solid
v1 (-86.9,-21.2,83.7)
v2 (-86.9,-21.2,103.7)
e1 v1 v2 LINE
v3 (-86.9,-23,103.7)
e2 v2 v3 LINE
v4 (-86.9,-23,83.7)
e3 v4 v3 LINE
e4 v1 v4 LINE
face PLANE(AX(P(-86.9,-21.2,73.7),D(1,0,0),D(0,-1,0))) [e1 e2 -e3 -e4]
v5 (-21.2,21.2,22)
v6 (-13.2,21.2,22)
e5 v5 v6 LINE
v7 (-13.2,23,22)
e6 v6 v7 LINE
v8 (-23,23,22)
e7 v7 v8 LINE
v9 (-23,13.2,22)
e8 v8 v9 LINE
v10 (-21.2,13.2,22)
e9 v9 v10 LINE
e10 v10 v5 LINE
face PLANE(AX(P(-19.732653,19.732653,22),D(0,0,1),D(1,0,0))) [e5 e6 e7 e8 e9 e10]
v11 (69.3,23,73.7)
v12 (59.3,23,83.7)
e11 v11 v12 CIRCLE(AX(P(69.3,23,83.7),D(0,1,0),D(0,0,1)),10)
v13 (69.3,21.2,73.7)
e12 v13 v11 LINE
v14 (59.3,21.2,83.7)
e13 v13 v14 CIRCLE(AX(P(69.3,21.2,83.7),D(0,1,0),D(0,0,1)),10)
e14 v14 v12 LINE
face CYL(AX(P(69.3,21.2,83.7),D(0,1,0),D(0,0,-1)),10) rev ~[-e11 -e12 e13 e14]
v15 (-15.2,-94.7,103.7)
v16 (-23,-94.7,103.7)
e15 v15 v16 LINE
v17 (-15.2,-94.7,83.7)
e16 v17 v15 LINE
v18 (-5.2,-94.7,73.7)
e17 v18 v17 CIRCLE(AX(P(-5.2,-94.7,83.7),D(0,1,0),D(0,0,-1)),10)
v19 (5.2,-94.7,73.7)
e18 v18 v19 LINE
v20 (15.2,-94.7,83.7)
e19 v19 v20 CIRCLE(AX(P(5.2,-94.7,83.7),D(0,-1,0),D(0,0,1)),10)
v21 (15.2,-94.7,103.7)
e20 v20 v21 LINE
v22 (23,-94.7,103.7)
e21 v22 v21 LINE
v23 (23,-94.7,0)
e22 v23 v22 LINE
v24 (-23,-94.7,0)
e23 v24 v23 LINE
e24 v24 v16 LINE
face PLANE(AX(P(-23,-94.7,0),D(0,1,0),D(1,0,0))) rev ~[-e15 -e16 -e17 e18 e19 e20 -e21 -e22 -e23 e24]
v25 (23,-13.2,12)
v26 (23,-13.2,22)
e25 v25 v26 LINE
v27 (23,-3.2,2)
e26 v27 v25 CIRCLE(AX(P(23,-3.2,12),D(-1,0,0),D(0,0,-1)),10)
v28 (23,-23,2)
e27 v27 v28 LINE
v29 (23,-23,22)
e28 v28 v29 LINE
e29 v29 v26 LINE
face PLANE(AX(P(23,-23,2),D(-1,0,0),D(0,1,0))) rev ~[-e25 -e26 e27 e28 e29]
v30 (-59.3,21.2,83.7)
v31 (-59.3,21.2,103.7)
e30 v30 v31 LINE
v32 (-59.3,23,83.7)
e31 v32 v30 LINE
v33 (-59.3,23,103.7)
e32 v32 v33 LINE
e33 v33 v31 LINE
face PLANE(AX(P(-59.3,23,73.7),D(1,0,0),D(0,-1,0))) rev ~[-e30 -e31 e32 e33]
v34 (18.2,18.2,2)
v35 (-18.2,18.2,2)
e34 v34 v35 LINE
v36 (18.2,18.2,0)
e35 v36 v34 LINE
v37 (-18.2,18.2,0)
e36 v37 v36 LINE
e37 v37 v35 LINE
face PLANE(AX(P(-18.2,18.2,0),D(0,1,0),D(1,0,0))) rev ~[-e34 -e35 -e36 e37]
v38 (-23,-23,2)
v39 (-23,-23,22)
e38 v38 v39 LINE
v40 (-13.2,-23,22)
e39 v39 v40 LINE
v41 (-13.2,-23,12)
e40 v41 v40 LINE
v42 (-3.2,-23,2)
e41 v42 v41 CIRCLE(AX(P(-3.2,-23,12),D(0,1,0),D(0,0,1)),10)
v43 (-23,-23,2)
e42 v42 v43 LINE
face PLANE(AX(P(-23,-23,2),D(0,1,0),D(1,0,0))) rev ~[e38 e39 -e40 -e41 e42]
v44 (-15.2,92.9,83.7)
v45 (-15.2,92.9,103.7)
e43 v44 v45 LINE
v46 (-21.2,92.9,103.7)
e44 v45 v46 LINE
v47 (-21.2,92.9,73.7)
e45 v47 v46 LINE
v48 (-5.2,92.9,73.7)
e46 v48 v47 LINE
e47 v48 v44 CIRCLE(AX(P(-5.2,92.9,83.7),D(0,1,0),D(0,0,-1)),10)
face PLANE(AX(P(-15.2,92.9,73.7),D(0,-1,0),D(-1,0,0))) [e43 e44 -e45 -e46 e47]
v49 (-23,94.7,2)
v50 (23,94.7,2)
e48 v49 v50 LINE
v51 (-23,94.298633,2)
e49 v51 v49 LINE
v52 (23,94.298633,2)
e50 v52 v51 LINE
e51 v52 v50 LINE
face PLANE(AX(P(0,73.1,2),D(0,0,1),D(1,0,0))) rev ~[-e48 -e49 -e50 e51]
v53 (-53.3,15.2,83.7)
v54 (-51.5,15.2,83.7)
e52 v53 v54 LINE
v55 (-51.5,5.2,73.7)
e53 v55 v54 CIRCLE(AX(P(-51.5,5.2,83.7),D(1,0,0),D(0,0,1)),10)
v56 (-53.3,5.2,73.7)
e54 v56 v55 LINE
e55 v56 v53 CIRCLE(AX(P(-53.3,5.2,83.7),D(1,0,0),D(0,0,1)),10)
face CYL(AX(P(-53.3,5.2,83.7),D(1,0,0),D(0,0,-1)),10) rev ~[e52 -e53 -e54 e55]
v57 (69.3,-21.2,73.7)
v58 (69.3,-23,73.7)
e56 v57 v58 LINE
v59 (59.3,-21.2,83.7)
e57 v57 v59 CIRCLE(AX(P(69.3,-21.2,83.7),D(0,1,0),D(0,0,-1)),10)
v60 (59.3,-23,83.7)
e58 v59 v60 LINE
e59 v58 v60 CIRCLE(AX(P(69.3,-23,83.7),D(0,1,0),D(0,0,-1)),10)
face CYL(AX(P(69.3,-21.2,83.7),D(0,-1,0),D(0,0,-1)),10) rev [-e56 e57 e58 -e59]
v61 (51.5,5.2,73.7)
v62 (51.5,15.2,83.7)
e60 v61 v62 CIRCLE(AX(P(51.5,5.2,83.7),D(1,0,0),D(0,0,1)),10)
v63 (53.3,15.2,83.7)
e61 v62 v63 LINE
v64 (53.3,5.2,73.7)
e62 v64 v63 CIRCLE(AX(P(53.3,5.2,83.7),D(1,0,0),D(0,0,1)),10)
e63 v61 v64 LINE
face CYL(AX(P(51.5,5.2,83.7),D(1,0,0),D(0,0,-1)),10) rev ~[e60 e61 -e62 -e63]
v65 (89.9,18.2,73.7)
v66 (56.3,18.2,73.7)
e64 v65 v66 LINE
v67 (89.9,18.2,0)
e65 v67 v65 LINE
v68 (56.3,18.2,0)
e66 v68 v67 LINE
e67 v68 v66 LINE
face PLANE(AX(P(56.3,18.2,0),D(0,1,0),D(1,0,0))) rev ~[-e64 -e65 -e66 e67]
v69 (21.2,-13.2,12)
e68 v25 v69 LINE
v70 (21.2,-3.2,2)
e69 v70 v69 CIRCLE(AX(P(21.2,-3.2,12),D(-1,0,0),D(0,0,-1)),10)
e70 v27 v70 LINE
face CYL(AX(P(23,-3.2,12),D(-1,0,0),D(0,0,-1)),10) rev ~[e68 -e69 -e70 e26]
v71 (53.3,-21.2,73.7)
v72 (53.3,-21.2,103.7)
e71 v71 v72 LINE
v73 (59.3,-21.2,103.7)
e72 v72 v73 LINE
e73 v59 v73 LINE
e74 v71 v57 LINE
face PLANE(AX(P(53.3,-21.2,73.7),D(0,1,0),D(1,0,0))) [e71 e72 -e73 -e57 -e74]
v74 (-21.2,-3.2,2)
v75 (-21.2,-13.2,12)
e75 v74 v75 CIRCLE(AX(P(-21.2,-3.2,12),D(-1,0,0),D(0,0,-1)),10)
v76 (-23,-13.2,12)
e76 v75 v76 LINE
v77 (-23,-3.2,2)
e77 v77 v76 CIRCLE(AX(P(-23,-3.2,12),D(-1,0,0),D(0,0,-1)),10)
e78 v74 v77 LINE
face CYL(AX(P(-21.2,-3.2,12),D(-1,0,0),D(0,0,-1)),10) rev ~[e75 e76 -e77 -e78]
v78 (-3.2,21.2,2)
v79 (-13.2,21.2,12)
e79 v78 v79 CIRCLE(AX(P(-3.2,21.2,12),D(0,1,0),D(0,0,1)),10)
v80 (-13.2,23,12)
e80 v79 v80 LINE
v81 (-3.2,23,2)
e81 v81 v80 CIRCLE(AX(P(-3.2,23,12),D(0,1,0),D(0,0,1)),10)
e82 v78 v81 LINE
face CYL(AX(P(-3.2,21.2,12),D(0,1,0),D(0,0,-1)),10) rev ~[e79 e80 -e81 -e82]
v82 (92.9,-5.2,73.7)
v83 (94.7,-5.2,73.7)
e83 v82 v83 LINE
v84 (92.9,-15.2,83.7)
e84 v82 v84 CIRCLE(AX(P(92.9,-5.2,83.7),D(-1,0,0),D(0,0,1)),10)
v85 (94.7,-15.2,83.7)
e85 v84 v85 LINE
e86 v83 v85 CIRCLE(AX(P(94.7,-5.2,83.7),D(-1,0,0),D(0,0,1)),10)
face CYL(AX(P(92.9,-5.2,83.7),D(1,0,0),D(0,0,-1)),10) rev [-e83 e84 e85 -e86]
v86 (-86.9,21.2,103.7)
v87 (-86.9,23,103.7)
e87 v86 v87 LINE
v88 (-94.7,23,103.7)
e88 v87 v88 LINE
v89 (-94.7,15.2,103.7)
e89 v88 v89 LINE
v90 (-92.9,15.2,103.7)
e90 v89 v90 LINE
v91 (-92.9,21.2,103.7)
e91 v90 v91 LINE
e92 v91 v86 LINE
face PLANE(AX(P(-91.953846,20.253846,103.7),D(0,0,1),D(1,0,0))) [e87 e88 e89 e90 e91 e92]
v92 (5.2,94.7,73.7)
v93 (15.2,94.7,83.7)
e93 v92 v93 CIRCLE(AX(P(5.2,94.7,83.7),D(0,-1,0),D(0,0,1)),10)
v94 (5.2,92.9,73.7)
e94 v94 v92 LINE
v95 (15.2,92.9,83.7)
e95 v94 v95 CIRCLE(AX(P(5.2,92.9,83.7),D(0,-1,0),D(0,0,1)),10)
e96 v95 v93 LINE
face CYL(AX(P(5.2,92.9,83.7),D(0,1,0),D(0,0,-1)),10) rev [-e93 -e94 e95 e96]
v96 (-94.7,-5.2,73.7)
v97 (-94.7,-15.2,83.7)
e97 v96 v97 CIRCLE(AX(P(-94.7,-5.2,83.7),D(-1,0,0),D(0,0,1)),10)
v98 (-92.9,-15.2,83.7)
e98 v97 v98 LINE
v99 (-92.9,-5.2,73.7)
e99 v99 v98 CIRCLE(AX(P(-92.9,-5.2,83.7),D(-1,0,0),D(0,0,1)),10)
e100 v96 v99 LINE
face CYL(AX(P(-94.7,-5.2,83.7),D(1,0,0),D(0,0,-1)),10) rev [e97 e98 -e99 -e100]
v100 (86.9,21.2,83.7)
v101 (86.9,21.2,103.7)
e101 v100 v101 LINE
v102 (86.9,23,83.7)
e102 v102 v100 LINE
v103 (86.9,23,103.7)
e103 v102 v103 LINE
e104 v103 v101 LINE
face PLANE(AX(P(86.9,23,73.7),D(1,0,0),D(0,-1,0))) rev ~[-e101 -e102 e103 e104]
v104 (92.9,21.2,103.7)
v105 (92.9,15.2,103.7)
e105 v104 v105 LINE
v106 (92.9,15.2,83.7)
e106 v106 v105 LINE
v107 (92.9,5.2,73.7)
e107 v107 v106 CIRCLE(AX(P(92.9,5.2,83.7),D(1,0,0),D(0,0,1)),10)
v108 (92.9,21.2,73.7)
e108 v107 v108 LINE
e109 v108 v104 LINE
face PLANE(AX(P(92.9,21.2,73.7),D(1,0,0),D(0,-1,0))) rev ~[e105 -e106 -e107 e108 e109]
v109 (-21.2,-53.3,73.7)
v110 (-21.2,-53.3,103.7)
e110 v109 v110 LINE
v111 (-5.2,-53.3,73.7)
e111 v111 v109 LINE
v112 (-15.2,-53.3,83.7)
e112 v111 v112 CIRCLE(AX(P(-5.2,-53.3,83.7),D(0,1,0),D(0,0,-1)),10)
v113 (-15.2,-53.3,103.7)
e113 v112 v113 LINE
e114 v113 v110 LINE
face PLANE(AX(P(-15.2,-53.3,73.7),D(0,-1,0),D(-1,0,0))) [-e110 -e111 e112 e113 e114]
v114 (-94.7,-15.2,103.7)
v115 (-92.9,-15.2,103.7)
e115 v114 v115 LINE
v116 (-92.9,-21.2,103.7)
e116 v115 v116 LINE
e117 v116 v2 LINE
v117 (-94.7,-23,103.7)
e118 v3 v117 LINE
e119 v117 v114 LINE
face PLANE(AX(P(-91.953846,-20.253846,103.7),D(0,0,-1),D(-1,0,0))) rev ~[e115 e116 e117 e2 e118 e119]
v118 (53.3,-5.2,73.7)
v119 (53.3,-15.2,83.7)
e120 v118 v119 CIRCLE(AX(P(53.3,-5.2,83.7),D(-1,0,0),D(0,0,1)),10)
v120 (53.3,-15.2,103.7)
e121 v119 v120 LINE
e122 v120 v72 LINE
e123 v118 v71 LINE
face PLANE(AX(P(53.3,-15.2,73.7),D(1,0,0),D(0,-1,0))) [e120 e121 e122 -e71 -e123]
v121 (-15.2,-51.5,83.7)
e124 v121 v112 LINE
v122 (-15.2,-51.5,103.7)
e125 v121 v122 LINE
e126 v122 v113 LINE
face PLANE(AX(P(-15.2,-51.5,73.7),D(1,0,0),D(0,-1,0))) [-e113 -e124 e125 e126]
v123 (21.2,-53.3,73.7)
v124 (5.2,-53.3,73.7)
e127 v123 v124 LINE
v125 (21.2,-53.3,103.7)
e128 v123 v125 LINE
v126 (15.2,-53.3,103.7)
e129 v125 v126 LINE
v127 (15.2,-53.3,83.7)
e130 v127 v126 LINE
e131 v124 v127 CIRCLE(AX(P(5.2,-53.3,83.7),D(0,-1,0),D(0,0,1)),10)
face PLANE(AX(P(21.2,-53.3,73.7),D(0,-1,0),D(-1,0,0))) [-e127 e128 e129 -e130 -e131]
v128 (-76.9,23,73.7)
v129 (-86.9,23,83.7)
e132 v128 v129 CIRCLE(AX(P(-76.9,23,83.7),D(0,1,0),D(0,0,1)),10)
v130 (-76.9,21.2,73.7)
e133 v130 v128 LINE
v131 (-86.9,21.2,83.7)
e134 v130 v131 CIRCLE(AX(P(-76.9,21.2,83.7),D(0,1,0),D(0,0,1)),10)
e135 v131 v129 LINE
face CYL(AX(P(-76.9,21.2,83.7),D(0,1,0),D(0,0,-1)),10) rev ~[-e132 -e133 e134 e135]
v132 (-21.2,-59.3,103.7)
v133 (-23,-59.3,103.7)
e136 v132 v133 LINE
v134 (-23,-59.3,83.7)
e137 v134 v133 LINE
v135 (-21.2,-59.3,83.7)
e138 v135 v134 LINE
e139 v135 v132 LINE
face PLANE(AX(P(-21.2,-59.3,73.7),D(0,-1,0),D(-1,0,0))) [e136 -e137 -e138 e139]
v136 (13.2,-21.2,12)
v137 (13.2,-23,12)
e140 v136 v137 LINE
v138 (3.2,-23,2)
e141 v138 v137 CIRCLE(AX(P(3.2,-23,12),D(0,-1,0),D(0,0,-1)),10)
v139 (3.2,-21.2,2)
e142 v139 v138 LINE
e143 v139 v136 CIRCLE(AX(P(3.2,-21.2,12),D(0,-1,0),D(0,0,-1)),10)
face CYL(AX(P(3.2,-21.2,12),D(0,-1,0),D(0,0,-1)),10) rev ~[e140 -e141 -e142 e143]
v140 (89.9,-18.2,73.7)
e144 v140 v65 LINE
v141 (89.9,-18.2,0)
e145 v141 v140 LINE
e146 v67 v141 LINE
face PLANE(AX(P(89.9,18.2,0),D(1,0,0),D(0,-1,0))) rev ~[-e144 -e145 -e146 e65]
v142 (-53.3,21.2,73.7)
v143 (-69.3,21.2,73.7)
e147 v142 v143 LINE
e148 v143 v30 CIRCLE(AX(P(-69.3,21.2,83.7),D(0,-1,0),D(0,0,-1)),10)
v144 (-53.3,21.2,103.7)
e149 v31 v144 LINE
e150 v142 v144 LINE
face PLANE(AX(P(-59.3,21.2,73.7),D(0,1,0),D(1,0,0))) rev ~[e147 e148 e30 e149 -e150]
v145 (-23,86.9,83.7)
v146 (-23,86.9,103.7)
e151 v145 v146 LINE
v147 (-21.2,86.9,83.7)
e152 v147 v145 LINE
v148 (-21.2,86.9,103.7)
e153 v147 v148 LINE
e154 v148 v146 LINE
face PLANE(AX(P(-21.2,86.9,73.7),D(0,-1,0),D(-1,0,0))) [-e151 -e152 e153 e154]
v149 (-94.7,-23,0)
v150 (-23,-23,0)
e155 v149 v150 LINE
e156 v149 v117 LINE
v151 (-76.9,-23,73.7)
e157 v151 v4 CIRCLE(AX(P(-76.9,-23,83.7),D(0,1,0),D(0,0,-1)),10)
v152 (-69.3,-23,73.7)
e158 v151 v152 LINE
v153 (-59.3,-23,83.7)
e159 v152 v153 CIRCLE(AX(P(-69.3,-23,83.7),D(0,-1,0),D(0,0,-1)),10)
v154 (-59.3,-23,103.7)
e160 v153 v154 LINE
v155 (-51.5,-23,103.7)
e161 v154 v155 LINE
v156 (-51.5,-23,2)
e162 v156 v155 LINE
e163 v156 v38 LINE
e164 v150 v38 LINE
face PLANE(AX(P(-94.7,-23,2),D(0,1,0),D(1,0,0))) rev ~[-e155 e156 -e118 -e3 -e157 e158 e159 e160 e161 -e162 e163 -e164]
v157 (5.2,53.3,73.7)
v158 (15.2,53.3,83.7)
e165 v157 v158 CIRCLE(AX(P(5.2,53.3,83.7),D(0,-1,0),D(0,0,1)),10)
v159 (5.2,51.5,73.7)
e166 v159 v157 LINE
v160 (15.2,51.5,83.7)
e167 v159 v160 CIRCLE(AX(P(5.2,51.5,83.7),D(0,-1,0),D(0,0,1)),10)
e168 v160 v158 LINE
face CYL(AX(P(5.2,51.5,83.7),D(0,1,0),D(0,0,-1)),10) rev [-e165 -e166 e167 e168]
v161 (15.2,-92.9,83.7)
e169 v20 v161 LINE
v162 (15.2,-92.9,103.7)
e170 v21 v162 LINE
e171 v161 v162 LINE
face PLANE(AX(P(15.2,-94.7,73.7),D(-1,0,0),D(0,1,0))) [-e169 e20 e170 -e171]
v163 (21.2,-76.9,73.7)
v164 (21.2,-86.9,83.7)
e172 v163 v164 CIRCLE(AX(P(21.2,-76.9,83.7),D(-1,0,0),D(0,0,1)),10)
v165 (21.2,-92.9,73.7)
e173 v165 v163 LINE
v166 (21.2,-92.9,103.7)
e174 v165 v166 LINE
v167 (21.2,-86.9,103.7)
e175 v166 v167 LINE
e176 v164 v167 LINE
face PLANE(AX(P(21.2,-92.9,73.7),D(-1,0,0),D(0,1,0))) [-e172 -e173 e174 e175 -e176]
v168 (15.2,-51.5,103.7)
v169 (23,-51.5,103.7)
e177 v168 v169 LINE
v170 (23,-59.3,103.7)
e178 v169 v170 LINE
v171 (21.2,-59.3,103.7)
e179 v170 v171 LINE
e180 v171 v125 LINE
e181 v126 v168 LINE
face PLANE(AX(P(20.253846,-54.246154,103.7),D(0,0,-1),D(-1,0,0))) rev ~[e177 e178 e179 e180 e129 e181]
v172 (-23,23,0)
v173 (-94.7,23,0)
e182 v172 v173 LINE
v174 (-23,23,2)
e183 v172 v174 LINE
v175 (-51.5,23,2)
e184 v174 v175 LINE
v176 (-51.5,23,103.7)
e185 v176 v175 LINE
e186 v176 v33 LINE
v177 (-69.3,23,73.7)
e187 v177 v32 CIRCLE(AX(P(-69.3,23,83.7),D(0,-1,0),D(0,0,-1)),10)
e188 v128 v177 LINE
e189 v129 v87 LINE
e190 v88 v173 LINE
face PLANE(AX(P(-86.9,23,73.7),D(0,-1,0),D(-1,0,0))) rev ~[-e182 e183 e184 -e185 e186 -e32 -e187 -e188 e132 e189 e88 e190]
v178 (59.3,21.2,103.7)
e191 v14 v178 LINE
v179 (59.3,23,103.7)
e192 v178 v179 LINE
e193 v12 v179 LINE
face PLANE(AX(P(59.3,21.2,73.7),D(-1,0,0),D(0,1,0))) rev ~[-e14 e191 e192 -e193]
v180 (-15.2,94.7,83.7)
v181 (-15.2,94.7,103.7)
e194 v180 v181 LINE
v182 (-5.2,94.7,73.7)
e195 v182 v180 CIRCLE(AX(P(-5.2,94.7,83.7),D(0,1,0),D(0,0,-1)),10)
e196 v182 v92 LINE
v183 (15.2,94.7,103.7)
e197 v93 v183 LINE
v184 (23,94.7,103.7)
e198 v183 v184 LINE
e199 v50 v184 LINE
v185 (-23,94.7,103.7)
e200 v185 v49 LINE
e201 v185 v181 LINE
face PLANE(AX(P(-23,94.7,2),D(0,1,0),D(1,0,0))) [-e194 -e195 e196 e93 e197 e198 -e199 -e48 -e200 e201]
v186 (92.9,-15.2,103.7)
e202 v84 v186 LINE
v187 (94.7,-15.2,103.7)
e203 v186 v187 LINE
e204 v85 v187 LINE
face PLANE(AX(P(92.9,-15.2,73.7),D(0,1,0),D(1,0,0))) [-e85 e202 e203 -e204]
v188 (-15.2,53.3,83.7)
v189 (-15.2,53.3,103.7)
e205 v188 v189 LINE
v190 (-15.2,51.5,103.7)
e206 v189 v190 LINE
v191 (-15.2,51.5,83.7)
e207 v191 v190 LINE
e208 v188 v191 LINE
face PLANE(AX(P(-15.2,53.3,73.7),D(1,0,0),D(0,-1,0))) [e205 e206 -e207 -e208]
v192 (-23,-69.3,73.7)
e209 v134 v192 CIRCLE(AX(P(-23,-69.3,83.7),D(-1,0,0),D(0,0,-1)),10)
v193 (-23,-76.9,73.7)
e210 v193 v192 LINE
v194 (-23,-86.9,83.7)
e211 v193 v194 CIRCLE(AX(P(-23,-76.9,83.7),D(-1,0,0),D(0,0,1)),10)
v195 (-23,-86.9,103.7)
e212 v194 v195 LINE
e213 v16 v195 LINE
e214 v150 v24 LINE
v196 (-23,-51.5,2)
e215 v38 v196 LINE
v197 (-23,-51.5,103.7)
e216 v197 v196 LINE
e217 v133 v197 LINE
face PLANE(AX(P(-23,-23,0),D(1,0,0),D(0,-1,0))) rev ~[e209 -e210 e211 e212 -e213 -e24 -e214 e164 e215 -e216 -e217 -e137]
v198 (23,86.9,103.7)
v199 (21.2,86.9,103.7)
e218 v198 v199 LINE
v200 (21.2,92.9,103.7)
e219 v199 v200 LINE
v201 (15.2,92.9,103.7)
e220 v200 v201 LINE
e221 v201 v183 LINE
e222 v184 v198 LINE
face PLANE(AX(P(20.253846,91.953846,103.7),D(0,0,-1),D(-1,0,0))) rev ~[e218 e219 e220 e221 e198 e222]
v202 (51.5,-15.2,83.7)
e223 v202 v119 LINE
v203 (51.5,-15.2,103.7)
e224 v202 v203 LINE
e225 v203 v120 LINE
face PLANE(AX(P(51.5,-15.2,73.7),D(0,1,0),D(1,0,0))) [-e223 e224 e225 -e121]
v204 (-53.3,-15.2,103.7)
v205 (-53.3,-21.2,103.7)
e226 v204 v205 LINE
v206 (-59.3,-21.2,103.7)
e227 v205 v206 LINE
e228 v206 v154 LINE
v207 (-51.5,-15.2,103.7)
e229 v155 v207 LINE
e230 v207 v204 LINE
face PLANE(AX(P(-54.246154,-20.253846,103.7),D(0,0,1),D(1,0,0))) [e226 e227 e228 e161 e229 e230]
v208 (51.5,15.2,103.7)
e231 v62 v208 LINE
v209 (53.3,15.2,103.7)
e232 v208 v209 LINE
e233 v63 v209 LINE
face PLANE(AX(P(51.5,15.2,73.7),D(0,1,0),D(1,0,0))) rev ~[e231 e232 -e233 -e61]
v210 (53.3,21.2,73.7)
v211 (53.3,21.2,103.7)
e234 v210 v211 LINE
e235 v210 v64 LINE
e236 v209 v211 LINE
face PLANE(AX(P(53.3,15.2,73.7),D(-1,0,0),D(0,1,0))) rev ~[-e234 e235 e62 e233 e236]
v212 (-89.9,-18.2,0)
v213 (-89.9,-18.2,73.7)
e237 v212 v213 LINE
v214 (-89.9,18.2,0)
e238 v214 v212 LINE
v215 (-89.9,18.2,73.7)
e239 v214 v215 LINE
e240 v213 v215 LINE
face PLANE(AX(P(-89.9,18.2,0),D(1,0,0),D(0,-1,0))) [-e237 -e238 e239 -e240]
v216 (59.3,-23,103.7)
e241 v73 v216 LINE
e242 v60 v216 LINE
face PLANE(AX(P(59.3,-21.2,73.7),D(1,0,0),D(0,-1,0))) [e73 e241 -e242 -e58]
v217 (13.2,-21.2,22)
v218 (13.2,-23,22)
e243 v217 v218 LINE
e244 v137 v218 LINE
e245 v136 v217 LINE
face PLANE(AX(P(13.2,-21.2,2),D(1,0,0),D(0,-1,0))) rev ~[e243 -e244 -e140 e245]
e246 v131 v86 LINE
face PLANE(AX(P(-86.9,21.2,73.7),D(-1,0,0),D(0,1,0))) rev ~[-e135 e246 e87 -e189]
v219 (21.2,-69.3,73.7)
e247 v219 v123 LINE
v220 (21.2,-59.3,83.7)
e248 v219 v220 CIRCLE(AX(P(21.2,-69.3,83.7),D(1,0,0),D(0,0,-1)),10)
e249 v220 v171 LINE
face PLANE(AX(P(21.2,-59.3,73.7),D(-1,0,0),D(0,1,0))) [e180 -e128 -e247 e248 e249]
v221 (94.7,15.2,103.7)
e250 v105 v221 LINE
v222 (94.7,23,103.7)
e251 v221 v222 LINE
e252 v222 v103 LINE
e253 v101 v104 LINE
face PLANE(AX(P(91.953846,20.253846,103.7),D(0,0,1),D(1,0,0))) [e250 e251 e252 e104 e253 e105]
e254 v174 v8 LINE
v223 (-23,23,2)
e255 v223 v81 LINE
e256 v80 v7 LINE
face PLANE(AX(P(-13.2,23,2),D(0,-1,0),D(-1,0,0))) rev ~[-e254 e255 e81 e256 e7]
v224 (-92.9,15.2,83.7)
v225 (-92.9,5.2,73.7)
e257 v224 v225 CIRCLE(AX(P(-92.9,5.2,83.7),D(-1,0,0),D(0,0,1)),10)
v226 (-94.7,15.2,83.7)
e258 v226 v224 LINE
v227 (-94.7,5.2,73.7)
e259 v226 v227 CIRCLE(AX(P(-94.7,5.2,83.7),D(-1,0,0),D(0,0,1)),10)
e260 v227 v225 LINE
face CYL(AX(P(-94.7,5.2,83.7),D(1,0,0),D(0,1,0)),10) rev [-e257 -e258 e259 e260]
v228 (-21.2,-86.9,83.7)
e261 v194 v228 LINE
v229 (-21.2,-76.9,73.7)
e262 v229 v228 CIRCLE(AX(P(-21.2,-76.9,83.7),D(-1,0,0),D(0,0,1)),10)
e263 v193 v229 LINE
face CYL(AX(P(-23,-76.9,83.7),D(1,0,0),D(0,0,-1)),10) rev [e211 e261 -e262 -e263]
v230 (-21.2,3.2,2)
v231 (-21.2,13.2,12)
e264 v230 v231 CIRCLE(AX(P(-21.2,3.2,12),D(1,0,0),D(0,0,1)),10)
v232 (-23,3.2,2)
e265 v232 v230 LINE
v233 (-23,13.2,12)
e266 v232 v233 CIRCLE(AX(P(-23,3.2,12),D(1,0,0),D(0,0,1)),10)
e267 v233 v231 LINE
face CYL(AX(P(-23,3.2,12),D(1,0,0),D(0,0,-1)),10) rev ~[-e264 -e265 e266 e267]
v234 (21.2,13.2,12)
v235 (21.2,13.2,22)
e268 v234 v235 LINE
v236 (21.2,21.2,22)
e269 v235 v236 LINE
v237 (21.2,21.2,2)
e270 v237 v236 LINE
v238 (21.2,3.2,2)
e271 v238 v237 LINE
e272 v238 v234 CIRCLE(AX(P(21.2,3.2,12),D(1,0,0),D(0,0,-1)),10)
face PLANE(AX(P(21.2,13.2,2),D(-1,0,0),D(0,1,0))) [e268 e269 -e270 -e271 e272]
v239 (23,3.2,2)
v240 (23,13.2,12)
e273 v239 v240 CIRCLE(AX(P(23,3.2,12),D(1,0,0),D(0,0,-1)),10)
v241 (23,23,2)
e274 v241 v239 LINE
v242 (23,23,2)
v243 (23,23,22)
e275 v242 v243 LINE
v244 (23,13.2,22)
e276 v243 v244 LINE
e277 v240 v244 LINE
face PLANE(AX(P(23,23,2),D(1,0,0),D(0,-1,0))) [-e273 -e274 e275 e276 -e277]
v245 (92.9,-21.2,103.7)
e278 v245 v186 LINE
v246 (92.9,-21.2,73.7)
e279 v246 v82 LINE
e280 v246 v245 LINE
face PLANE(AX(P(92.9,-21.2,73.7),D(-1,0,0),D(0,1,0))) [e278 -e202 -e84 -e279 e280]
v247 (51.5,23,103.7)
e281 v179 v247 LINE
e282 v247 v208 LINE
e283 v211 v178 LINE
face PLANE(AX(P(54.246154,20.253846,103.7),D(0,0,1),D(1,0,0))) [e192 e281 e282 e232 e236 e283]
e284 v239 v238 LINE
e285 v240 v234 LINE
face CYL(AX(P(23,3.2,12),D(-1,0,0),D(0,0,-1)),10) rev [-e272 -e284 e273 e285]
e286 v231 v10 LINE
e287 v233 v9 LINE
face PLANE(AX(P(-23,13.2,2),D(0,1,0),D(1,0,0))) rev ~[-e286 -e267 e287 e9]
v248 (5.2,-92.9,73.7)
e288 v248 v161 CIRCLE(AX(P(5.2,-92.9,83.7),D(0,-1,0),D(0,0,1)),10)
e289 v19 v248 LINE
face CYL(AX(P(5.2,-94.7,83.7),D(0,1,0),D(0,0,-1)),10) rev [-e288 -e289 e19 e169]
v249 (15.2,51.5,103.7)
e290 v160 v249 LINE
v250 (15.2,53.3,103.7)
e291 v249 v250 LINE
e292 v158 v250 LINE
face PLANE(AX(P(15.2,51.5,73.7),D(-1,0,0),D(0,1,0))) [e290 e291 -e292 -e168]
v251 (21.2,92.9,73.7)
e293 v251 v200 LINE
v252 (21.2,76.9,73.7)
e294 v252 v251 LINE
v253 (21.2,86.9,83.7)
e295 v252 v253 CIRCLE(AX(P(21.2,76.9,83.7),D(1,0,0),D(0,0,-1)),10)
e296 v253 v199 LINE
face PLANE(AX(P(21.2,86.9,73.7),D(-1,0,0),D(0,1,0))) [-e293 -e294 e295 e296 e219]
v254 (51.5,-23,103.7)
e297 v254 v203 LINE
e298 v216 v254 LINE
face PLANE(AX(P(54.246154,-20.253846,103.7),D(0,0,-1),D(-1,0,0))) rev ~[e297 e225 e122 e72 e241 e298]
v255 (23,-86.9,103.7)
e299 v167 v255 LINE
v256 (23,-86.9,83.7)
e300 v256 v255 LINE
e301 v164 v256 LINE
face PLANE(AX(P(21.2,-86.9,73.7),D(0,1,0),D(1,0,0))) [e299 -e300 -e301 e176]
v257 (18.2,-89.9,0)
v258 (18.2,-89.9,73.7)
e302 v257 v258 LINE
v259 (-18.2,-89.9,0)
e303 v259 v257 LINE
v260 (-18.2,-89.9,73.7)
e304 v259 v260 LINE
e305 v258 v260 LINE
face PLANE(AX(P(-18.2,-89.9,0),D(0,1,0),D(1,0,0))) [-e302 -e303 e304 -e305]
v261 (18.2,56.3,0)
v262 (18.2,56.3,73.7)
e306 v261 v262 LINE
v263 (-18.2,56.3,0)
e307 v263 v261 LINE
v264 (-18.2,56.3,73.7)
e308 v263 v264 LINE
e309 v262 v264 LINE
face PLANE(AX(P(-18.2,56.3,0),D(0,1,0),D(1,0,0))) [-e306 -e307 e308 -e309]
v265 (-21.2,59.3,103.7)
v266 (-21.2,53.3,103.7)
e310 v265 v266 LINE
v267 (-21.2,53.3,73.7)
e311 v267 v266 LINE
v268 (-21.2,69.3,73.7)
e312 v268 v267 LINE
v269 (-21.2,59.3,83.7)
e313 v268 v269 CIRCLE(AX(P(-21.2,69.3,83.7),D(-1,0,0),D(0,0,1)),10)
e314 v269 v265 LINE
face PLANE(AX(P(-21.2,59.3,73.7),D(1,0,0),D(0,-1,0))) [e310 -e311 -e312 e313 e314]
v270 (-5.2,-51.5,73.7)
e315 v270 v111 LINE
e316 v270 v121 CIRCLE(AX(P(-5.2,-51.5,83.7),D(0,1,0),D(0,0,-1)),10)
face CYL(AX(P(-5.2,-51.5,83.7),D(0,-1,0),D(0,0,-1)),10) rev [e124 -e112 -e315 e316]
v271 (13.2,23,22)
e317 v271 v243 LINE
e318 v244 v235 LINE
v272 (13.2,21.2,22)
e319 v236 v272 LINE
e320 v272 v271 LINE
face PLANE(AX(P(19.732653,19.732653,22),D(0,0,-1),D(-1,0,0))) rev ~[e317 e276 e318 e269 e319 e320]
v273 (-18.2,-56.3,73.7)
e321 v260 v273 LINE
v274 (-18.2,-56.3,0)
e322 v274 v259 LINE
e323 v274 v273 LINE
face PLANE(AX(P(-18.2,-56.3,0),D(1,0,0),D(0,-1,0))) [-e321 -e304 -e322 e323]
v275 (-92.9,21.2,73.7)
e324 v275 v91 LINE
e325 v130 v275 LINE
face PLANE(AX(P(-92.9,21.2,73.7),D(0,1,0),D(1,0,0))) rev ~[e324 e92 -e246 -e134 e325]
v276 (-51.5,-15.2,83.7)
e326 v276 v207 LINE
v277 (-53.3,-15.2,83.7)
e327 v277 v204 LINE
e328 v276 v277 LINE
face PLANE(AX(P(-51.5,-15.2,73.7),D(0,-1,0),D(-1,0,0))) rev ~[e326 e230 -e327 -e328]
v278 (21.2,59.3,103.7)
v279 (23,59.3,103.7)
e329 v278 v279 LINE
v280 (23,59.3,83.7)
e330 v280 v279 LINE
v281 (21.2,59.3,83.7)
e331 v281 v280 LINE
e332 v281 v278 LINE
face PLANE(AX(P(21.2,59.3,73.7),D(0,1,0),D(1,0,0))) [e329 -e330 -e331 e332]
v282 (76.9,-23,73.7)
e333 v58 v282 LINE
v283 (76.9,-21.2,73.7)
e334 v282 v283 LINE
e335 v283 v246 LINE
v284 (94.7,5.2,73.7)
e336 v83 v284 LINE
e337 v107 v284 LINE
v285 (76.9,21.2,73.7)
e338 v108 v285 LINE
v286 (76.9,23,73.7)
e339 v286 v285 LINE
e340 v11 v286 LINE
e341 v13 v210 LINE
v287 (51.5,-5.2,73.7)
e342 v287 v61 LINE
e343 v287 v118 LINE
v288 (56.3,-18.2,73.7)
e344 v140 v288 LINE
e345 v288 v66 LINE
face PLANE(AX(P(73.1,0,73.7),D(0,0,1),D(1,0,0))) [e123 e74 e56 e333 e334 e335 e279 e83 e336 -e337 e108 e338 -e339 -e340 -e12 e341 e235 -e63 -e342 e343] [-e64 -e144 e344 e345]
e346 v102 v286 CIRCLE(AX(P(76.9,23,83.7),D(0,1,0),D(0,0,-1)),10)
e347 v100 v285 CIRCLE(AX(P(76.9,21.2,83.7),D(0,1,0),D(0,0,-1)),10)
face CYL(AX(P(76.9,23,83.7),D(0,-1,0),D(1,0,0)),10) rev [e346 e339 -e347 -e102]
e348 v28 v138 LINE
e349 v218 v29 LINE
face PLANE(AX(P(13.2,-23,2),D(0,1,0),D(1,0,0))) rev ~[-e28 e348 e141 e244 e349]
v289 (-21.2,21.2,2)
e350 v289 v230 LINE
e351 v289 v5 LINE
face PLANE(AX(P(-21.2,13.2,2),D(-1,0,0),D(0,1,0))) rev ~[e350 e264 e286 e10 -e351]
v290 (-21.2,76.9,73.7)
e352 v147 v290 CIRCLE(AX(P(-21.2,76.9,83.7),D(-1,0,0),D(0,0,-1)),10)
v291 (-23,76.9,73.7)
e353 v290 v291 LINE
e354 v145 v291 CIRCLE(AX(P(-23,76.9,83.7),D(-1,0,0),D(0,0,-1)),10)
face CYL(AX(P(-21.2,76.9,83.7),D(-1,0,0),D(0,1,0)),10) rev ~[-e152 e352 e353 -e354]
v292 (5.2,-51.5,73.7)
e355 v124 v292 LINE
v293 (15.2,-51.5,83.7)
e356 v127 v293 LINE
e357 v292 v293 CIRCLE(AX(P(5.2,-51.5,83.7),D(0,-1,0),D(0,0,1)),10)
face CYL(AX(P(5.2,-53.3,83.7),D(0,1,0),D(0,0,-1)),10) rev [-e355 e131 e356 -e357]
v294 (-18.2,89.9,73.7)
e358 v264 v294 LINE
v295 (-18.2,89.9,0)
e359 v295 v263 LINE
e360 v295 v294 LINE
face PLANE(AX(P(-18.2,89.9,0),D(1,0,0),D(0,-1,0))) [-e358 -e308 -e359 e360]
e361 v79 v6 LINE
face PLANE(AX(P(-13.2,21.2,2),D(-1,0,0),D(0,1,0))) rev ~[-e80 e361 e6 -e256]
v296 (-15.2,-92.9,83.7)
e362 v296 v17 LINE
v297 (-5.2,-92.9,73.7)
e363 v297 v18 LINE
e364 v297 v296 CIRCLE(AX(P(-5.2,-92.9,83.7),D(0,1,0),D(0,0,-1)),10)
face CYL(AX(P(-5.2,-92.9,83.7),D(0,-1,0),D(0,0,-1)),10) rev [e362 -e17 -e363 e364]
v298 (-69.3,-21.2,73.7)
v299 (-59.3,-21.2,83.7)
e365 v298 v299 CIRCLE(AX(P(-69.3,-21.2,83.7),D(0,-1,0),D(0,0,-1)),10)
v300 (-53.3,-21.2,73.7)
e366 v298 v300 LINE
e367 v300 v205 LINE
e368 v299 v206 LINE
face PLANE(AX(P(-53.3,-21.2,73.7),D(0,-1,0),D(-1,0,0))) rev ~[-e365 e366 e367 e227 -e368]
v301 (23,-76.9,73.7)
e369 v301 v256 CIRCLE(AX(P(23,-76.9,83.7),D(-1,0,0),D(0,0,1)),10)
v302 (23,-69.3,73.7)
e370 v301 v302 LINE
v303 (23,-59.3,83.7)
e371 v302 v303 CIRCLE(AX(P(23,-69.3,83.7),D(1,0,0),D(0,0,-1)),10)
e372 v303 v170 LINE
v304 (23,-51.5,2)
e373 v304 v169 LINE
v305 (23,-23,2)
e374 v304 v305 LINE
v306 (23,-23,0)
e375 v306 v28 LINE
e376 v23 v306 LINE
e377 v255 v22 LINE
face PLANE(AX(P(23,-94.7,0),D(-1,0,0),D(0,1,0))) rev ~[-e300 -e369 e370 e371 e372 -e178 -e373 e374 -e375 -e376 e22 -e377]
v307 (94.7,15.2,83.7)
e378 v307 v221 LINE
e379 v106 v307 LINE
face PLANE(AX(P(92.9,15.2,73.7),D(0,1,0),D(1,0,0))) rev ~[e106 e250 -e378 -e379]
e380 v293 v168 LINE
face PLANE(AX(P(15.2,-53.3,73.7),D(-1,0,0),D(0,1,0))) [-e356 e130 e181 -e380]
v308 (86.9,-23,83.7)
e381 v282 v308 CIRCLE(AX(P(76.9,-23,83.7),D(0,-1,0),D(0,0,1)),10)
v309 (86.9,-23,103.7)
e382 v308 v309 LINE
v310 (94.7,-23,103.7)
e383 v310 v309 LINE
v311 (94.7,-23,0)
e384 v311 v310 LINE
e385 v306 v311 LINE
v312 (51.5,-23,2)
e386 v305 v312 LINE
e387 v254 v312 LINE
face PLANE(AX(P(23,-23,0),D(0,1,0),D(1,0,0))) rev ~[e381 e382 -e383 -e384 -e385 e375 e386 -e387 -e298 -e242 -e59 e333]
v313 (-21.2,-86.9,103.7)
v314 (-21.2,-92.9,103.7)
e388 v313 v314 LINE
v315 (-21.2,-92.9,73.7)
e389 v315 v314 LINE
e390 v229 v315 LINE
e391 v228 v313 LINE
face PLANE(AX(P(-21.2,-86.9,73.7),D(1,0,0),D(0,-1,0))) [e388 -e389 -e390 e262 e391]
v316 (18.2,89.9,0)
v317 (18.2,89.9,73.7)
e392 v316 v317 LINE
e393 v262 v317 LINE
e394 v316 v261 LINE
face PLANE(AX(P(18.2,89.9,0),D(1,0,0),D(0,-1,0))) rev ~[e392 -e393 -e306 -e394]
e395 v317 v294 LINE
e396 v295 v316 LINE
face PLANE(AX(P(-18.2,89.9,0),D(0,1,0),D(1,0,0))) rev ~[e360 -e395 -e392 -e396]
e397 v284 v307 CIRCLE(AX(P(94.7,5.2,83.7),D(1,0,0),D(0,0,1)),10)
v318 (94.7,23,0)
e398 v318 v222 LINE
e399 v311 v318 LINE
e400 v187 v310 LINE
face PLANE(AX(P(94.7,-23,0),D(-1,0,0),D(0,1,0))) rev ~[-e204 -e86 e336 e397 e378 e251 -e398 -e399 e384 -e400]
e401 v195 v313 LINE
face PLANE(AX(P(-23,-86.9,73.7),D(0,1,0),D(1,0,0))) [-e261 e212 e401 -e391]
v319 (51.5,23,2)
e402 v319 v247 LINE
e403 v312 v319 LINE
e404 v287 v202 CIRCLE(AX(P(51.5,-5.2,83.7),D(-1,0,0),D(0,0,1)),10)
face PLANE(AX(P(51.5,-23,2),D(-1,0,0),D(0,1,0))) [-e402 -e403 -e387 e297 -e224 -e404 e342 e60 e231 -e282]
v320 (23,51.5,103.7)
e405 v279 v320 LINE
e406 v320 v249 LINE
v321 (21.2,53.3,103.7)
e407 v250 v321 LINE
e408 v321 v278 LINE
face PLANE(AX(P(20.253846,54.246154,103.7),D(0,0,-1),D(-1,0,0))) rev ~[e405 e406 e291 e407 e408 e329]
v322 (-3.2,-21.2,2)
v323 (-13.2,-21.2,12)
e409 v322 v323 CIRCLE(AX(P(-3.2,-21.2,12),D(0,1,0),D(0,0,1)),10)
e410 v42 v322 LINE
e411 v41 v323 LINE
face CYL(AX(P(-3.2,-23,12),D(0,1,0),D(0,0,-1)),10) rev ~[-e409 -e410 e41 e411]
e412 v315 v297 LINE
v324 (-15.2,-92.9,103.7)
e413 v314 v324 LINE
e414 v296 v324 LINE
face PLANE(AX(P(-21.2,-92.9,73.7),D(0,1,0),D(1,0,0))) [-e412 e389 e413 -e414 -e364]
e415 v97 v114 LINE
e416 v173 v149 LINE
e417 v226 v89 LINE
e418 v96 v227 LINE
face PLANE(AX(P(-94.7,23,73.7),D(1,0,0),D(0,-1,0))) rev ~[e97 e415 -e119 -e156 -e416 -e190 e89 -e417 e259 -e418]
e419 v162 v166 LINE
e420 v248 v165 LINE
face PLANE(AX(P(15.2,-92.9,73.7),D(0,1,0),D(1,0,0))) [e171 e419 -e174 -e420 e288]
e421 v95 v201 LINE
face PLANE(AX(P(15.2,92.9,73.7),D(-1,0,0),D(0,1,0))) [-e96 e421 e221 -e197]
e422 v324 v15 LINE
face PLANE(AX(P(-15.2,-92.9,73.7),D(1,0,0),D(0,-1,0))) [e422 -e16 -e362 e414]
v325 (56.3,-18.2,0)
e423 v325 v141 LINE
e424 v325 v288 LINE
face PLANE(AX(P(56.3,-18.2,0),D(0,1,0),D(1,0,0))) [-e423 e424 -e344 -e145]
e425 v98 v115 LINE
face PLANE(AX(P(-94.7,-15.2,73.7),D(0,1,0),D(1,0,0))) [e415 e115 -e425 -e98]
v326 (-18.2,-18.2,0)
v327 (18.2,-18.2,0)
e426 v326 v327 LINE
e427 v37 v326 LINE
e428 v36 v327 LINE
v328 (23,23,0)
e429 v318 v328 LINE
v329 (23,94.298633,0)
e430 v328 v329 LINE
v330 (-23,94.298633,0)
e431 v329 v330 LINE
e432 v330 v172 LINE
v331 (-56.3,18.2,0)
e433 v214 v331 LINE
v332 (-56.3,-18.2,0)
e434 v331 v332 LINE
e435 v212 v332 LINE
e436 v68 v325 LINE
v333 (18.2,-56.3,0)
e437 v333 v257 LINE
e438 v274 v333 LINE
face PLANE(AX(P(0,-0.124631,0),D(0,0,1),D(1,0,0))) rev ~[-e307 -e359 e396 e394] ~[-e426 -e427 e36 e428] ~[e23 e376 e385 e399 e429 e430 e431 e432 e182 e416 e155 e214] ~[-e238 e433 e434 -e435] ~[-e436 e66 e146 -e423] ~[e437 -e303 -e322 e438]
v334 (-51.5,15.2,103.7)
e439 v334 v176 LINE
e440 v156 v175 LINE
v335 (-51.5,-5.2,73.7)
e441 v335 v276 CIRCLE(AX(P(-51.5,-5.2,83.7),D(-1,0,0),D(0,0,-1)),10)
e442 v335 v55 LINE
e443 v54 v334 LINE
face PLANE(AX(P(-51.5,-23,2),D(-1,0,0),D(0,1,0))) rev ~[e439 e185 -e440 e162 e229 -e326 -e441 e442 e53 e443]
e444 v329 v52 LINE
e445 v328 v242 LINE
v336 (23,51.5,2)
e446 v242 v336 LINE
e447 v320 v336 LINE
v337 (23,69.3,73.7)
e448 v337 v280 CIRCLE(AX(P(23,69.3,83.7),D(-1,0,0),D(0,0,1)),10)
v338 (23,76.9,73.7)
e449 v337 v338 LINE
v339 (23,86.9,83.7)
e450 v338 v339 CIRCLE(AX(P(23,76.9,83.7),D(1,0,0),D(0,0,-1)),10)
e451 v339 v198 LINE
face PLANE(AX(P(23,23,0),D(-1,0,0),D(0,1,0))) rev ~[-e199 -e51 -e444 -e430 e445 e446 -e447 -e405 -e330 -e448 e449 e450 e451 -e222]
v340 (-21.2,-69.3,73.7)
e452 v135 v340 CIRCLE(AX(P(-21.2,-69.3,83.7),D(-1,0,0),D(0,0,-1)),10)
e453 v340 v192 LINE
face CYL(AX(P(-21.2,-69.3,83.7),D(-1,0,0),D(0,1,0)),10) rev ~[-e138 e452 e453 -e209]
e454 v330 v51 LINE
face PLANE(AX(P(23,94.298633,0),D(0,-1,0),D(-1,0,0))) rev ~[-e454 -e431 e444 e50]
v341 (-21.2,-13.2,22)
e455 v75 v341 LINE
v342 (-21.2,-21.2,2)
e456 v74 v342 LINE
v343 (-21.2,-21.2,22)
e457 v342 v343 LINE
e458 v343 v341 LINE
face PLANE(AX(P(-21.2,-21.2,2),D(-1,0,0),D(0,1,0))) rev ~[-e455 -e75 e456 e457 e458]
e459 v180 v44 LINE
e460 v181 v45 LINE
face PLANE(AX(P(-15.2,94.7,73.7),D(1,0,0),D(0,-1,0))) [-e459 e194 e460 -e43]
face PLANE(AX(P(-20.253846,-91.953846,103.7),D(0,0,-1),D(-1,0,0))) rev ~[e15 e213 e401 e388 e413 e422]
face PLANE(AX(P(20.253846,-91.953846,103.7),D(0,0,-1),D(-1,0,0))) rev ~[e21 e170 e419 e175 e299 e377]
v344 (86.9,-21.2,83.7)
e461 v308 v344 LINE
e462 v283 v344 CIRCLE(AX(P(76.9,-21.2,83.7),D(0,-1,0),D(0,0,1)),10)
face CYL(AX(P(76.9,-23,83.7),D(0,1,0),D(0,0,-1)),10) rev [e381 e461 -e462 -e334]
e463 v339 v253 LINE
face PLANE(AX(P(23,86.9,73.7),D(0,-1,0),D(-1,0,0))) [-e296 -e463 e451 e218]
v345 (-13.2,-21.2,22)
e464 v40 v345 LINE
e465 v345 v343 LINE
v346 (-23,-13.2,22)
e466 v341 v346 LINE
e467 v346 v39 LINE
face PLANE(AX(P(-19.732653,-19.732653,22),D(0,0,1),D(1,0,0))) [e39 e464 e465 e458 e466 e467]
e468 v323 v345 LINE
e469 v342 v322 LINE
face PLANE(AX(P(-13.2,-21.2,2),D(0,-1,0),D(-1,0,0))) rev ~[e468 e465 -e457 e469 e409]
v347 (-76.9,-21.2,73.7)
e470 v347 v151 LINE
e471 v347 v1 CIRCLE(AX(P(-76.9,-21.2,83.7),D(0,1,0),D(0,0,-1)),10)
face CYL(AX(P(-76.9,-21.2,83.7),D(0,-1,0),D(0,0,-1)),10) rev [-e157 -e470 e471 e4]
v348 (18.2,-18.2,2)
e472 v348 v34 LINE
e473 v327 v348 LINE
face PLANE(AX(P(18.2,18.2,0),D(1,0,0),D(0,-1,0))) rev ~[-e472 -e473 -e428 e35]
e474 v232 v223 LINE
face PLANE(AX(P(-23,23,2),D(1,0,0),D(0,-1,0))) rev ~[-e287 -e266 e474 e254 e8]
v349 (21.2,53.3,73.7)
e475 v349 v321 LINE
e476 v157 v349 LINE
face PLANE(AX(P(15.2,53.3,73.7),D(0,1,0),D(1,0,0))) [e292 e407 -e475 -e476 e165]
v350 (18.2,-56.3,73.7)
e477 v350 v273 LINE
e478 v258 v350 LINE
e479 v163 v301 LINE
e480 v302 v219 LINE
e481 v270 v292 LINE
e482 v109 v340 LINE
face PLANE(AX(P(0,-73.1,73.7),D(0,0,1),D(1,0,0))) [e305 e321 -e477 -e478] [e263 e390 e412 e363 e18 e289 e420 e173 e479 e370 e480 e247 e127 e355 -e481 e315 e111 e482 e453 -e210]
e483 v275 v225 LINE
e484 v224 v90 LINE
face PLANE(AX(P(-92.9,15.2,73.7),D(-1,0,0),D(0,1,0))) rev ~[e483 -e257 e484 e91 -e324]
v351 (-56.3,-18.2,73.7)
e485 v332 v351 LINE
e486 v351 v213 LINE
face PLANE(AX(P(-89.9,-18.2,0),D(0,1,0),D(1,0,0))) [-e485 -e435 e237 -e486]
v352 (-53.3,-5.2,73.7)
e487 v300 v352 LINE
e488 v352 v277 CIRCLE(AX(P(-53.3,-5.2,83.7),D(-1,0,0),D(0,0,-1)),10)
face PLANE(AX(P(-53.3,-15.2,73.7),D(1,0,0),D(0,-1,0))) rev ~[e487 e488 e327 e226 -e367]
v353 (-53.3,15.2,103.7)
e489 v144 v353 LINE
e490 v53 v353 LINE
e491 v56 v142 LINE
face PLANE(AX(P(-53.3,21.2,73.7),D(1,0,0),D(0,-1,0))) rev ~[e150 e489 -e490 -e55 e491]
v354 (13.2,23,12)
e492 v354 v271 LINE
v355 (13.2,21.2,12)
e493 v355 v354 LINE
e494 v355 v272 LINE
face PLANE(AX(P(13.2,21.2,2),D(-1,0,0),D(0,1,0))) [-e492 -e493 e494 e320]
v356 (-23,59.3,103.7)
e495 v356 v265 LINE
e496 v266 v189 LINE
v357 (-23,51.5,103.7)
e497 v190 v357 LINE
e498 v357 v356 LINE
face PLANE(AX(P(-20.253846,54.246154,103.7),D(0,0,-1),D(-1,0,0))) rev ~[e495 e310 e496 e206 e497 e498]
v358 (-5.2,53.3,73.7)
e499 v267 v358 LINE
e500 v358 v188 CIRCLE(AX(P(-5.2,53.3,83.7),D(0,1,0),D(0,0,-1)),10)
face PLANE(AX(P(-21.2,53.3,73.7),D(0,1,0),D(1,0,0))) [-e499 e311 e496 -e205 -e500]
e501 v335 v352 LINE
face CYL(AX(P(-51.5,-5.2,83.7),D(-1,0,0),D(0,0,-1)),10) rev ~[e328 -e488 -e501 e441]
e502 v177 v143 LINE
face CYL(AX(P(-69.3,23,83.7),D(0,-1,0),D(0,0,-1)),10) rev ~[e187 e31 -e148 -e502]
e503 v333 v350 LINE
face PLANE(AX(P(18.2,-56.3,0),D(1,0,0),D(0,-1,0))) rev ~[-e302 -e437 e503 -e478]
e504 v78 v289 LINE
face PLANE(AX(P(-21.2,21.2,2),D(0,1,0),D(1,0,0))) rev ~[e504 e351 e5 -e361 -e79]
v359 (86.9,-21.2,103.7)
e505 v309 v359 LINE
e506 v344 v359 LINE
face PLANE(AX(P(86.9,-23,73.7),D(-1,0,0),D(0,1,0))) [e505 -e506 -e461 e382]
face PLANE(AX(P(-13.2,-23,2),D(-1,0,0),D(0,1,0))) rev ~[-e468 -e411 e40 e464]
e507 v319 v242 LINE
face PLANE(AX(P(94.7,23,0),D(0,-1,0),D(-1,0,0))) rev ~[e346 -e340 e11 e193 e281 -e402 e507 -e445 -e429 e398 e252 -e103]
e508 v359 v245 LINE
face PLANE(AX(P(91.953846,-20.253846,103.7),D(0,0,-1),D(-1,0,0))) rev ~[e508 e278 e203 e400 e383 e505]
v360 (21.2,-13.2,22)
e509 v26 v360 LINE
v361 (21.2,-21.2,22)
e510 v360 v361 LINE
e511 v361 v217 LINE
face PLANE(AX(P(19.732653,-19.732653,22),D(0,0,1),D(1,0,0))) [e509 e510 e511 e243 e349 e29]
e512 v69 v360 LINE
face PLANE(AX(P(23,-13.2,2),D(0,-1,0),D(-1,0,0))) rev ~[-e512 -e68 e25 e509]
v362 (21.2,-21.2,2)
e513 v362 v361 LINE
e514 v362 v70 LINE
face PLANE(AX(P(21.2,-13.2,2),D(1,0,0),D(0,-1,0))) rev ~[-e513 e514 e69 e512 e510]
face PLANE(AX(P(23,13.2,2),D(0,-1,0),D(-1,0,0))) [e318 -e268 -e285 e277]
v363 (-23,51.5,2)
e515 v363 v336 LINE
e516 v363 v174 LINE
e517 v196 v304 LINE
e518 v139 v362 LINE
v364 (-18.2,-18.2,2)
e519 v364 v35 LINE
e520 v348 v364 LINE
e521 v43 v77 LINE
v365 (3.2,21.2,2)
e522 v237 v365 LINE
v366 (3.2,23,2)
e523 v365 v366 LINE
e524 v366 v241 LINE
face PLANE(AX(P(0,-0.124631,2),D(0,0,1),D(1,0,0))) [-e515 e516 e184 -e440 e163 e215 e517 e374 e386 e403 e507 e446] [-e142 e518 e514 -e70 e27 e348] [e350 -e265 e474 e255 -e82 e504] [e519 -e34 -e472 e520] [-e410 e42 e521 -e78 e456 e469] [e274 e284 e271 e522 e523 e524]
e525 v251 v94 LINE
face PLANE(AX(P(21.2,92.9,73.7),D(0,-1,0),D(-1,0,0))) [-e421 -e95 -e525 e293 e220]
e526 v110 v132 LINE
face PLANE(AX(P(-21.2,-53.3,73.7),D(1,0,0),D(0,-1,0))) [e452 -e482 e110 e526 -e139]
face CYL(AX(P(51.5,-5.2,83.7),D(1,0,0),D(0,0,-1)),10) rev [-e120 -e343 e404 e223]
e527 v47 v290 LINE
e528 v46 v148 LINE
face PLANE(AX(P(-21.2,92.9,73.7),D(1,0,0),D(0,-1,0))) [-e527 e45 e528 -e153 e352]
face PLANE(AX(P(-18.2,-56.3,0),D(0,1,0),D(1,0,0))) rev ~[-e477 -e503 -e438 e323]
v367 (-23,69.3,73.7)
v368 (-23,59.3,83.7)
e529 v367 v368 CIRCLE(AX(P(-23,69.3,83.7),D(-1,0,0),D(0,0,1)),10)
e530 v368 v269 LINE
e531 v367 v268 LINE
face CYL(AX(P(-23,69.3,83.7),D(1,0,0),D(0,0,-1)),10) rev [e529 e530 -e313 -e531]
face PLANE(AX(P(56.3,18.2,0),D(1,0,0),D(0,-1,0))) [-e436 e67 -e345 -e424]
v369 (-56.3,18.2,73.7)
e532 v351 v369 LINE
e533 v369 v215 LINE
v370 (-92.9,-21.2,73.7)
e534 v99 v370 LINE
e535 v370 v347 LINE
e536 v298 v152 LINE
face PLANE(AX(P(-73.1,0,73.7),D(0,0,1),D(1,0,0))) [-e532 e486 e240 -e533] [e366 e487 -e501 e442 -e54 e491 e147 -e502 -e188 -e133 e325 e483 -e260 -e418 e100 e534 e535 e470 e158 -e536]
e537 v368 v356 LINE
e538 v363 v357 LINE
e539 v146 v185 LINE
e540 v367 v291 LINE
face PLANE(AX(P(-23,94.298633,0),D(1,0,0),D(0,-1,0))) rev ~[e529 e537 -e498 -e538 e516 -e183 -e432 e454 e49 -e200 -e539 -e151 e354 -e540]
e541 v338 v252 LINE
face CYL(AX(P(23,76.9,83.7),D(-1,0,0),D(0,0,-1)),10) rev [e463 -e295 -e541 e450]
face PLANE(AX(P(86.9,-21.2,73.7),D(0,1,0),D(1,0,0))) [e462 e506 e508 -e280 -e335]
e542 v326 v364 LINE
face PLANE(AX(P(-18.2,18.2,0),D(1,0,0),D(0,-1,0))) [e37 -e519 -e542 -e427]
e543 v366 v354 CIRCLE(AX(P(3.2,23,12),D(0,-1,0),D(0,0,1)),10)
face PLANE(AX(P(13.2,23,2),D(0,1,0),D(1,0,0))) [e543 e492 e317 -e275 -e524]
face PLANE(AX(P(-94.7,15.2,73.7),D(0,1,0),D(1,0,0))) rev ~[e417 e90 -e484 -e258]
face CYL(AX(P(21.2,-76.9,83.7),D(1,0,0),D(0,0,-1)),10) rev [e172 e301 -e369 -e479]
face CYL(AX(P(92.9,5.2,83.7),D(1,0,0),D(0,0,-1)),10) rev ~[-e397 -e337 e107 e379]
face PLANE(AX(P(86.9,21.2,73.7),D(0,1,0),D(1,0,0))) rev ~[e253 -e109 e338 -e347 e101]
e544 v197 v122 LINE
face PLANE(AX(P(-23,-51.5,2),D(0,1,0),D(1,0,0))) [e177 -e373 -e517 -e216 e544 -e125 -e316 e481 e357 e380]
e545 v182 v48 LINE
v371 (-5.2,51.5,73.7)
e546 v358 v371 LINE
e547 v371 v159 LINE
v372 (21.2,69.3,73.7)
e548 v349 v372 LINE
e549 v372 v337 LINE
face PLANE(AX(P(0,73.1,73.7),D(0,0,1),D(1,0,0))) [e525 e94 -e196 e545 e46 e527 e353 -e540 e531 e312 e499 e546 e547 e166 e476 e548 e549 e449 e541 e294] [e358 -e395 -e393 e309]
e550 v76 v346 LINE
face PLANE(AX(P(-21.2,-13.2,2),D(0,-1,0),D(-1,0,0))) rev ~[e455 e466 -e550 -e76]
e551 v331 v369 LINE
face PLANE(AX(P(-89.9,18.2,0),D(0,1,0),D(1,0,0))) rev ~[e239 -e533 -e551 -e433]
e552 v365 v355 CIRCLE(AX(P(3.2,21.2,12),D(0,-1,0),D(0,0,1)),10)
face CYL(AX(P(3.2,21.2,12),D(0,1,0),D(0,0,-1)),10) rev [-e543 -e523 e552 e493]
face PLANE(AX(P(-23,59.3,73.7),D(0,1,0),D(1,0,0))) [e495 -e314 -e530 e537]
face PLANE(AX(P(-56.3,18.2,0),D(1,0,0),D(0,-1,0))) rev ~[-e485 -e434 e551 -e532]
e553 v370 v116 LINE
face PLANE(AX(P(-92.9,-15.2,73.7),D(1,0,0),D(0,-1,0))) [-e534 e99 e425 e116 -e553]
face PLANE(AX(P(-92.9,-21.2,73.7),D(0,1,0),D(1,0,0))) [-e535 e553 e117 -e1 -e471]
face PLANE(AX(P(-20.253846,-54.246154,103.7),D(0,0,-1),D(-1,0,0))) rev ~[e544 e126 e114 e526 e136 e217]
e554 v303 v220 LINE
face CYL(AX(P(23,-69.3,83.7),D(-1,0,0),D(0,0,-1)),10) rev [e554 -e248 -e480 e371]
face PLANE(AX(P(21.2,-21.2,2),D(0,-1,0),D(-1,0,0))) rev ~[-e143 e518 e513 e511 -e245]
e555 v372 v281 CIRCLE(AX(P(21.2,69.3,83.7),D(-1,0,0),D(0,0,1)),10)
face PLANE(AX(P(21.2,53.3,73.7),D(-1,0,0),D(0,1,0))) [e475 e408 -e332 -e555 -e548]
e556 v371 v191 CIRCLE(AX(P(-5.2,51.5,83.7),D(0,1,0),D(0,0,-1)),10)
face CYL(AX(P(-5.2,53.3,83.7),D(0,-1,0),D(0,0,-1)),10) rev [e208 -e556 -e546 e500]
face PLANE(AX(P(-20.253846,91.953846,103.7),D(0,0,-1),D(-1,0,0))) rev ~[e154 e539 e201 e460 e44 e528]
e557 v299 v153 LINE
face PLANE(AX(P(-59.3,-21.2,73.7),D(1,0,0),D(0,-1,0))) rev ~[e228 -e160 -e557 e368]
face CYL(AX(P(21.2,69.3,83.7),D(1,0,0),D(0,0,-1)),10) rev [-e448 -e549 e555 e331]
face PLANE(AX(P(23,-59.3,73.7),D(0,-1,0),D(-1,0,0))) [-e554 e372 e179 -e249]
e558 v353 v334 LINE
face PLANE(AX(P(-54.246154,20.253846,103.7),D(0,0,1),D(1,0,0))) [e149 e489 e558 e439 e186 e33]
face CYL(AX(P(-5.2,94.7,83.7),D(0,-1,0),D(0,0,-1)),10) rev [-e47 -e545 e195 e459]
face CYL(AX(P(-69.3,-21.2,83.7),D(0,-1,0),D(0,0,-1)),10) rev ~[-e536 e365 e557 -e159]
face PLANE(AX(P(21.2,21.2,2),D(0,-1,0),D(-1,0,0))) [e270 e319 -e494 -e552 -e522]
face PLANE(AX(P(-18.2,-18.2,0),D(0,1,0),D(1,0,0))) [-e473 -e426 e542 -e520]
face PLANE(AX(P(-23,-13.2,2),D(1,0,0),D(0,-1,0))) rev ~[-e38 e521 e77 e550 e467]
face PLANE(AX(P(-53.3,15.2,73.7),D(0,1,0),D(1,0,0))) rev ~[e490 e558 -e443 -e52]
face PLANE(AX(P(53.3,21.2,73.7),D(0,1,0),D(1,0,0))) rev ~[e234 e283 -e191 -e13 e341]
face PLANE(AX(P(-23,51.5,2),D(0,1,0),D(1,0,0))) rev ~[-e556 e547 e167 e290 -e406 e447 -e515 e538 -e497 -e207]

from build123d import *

# Parameters (mm, degrees)
PAD_DEPTH     = 2
SKETCH001_W   = 43.2
SKETCH001_H   = 46
SKETCH001_W_2 = 46
SKETCH001_H_2 = 43.2
PAD001_DEPTH  = 71.7
PAD002_DEPTH  = 20
PAD003_DEPTH  = 30
SKETCH004_W   = 36.4
SKETCH004_H   = 33.6
SKETCH004_W_2 = 33.6
SKETCH004_H_2 = 36.4
POCKET_DEPTH  = 103.701
FILLET_R      = 10


with BuildPart() as part:
    # Sketch → Pad (new body)
    with BuildSketch(Plane.XY):
        Polygon((-51.5, 23), (-94.7, 23), (-94.7, -23), (-51.5, -23), (-23, -23), (-23, -51.5), (-23, -94.7), (23, -94.7), (23, -51.5), (23, -23), (51.5, -23), (94.7, -23), (94.7, 23), (51.5, 23), (23, 23), (23, 51.5), (23, 94.298633), (-23, 94.298633), (-23, 51.098633), (-23, 23), align=None)
    extrude(amount=PAD_DEPTH)

    # Sketch001 → Pad001 (new body)
    with BuildSketch(Plane.XY.offset(2)):
        with Locations((-73.1, 0)):
            Rectangle(SKETCH001_W, SKETCH001_H)
        with Locations((73.1, 0)):
            Rectangle(SKETCH001_W, SKETCH001_H)
        with Locations((0, 73.1)):
            Rectangle(SKETCH001_W_2, SKETCH001_H_2)
        with Locations((0, -73.1)):
            Rectangle(SKETCH001_W_2, SKETCH001_H_2)
    extrude(amount=PAD001_DEPTH)

    # Sketch002 → Pad002 (new body)
    with BuildSketch(Plane.XY.offset(2)):
        Polygon((-23, 23), (-23, 13.2), (-21.2, 13.2), (-21.2, 21.2), (-13.2, 21.2), (-13.2, 23), align=None)
        Polygon((21.2, 21.2), (13.2, 21.2), (13.2, 23), (23, 23), (23, 13.2), (21.2, 13.2), align=None)
        Polygon((23, -23), (23, -13.2), (21.2, -13.2), (21.2, -21.2), (13.2, -21.2), (13.2, -23), align=None)
        Polygon((-21.2, -21.2), (-21.2, -13.2), (-23, -13.2), (-23, -23), (-13.2, -23), (-13.2, -21.2), align=None)
    extrude(amount=PAD002_DEPTH)

    # Sketch003 → Pad003 (new body)
    with BuildSketch(Plane.XY.offset(73.7)):
        Polygon((-94.7, 23), (-94.7, 15.2), (-92.9, 15.2), (-92.9, 21.2), (-86.9, 21.2), (-86.9, 23), align=None)
        Polygon((-51.5, 23), (-59.3, 23), (-59.3, 21.2), (-53.3, 21.2), (-53.3, 15.2), (-51.5, 15.2), align=None)
        Polygon((-92.9, -15.2), (-92.9, -21.2), (-86.9, -21.2), (-86.9, -23), (-94.7, -23), (-94.7, -15.2), align=None)
        Polygon((-51.5, -23), (-51.5, -15.2), (-53.3, -15.2), (-53.3, -21.2), (-59.3, -21.2), (-59.3, -23), align=None)
        Polygon((-23, -59.3), (-23, -51.5), (-15.2, -51.5), (-15.2, -53.3), (-21.2, -53.3), (-21.2, -59.3), align=None)
        Polygon((-23, -94.7), (-23, -86.9), (-21.2, -86.9), (-21.2, -92.9), (-15.2, -92.9), (-15.2, -94.7), align=None)
        Polygon((15.2, -51.5), (23, -51.5), (23, -59.3), (21.2, -59.3), (21.2, -53.3), (15.2, -53.3), align=None)
        Polygon((23, -94.7), (15.2, -94.7), (15.2, -92.9), (21.2, -92.9), (21.2, -86.9), (23, -86.9), align=None)
        Polygon((51.5, 23), (51.5, 15.2), (53.3, 15.2), (53.3, 21.2), (59.3, 21.2), (59.3, 23), align=None)
        Polygon((94.7, 23), (86.9, 23), (86.9, 21.2), (92.9, 21.2), (92.9, 15.2), (94.7, 15.2), align=None)
        Polygon((51.5, -23), (51.5, -15.2), (53.3, -15.2), (53.3, -21.2), (59.3, -21.2), (59.3, -23), align=None)
        Polygon((94.7, -23), (86.9, -23), (86.9, -21.2), (92.9, -21.2), (92.9, -15.2), (94.7, -15.2), align=None)
        Polygon((-23, 51.5), (-23, 59.3), (-21.2, 59.3), (-21.2, 53.3), (-15.2, 53.3), (-15.2, 51.5), align=None)
        Polygon((15.2, 51.5), (15.2, 53.3), (21.2, 53.3), (21.2, 59.3), (23, 59.3), (23, 51.5), align=None)
        Polygon((15.2, 94.7), (23, 94.7), (23, 86.9), (21.2, 86.9), (21.2, 92.9), (15.2, 92.9), align=None)
        Polygon((-15.2, 94.7), (-15.2, 92.9), (-21.2, 92.9), (-21.2, 86.9), (-23, 86.9), (-23, 94.7), align=None)
    extrude(amount=PAD003_DEPTH)

    # Sketch004 → Pocket (cut, through all)
    with BuildSketch(Plane(origin=(0, 0, 0), x_dir=(1, 0, 0), z_dir=(0, 0, -1))):
        with Locations((0, 73.1)):
            Rectangle(SKETCH004_W, SKETCH004_H)
        with Locations((0, -73.1)):
            Rectangle(SKETCH004_W, SKETCH004_H)
        with Locations((-73.1, 0)):
            Rectangle(SKETCH004_W_2, SKETCH004_H_2)
        with Locations((73.1, 0)):
            Rectangle(SKETCH004_W_2, SKETCH004_H_2)
        Rectangle(SKETCH004_W, SKETCH004_H_2)
    extrude(amount=-POCKET_DEPTH, mode=Mode.SUBTRACT)

    # Fillet
    fillet_edges = [part.edges().sort_by_distance(p)[0] for p in [
        (15.2, 93.8, 73.7),
        (15.2, 52.4, 73.7),
        (15.2, -52.4, 73.7),
        (15.2, -93.8, 73.7),
        (86.9, -22.1, 73.7),
        (86.9, 22.1, 73.7),
        (-59.3, -22.1, 73.7),
        (-59.3, 22.1, 73.7),
        (22.1, 59.3, 73.7),
        (-22.1, 59.3, 73.7),
        (-93.8, -15.2, 73.7),
        (-52.4, -15.2, 73.7),
        (-22.1, -86.9, 73.7),
        (22.1, -86.9, 73.7),
        (52.4, -15.2, 73.7),
        (93.8, -15.2, 73.7),
        (-15.2, -93.8, 73.7),
        (-15.2, -52.4, 73.7),
        (-86.9, -22.1, 73.7),
        (-86.9, 22.1, 73.7),
        (-15.2, 52.4, 73.7),
        (-15.2, 93.8, 73.7),
        (59.3, 22.1, 73.7),
        (59.3, -22.1, 73.7),
        (-22.1, 86.9, 73.7),
        (22.1, 86.9, 73.7),
        (52.4, 15.2, 73.7),
        (93.8, 15.2, 73.7),
        (22.1, -59.3, 73.7),
        (-22.1, -59.3, 73.7),
        (-52.4, 15.2, 73.7),
        (-93.8, 15.2, 73.7),
        (13.2, -22.1, 2),
        (22.1, -13.2, 2),
        (22.1, 13.2, 2),
        (-22.1, 13.2, 2),
        (13.2, 22.1, 2),
        (-13.2, 22.1, 2),
        (-13.2, -22.1, 2),
        (-22.1, -13.2, 2),
    ]]
    fillet(fillet_edges, radius=FILLET_R)


solid = part.part
